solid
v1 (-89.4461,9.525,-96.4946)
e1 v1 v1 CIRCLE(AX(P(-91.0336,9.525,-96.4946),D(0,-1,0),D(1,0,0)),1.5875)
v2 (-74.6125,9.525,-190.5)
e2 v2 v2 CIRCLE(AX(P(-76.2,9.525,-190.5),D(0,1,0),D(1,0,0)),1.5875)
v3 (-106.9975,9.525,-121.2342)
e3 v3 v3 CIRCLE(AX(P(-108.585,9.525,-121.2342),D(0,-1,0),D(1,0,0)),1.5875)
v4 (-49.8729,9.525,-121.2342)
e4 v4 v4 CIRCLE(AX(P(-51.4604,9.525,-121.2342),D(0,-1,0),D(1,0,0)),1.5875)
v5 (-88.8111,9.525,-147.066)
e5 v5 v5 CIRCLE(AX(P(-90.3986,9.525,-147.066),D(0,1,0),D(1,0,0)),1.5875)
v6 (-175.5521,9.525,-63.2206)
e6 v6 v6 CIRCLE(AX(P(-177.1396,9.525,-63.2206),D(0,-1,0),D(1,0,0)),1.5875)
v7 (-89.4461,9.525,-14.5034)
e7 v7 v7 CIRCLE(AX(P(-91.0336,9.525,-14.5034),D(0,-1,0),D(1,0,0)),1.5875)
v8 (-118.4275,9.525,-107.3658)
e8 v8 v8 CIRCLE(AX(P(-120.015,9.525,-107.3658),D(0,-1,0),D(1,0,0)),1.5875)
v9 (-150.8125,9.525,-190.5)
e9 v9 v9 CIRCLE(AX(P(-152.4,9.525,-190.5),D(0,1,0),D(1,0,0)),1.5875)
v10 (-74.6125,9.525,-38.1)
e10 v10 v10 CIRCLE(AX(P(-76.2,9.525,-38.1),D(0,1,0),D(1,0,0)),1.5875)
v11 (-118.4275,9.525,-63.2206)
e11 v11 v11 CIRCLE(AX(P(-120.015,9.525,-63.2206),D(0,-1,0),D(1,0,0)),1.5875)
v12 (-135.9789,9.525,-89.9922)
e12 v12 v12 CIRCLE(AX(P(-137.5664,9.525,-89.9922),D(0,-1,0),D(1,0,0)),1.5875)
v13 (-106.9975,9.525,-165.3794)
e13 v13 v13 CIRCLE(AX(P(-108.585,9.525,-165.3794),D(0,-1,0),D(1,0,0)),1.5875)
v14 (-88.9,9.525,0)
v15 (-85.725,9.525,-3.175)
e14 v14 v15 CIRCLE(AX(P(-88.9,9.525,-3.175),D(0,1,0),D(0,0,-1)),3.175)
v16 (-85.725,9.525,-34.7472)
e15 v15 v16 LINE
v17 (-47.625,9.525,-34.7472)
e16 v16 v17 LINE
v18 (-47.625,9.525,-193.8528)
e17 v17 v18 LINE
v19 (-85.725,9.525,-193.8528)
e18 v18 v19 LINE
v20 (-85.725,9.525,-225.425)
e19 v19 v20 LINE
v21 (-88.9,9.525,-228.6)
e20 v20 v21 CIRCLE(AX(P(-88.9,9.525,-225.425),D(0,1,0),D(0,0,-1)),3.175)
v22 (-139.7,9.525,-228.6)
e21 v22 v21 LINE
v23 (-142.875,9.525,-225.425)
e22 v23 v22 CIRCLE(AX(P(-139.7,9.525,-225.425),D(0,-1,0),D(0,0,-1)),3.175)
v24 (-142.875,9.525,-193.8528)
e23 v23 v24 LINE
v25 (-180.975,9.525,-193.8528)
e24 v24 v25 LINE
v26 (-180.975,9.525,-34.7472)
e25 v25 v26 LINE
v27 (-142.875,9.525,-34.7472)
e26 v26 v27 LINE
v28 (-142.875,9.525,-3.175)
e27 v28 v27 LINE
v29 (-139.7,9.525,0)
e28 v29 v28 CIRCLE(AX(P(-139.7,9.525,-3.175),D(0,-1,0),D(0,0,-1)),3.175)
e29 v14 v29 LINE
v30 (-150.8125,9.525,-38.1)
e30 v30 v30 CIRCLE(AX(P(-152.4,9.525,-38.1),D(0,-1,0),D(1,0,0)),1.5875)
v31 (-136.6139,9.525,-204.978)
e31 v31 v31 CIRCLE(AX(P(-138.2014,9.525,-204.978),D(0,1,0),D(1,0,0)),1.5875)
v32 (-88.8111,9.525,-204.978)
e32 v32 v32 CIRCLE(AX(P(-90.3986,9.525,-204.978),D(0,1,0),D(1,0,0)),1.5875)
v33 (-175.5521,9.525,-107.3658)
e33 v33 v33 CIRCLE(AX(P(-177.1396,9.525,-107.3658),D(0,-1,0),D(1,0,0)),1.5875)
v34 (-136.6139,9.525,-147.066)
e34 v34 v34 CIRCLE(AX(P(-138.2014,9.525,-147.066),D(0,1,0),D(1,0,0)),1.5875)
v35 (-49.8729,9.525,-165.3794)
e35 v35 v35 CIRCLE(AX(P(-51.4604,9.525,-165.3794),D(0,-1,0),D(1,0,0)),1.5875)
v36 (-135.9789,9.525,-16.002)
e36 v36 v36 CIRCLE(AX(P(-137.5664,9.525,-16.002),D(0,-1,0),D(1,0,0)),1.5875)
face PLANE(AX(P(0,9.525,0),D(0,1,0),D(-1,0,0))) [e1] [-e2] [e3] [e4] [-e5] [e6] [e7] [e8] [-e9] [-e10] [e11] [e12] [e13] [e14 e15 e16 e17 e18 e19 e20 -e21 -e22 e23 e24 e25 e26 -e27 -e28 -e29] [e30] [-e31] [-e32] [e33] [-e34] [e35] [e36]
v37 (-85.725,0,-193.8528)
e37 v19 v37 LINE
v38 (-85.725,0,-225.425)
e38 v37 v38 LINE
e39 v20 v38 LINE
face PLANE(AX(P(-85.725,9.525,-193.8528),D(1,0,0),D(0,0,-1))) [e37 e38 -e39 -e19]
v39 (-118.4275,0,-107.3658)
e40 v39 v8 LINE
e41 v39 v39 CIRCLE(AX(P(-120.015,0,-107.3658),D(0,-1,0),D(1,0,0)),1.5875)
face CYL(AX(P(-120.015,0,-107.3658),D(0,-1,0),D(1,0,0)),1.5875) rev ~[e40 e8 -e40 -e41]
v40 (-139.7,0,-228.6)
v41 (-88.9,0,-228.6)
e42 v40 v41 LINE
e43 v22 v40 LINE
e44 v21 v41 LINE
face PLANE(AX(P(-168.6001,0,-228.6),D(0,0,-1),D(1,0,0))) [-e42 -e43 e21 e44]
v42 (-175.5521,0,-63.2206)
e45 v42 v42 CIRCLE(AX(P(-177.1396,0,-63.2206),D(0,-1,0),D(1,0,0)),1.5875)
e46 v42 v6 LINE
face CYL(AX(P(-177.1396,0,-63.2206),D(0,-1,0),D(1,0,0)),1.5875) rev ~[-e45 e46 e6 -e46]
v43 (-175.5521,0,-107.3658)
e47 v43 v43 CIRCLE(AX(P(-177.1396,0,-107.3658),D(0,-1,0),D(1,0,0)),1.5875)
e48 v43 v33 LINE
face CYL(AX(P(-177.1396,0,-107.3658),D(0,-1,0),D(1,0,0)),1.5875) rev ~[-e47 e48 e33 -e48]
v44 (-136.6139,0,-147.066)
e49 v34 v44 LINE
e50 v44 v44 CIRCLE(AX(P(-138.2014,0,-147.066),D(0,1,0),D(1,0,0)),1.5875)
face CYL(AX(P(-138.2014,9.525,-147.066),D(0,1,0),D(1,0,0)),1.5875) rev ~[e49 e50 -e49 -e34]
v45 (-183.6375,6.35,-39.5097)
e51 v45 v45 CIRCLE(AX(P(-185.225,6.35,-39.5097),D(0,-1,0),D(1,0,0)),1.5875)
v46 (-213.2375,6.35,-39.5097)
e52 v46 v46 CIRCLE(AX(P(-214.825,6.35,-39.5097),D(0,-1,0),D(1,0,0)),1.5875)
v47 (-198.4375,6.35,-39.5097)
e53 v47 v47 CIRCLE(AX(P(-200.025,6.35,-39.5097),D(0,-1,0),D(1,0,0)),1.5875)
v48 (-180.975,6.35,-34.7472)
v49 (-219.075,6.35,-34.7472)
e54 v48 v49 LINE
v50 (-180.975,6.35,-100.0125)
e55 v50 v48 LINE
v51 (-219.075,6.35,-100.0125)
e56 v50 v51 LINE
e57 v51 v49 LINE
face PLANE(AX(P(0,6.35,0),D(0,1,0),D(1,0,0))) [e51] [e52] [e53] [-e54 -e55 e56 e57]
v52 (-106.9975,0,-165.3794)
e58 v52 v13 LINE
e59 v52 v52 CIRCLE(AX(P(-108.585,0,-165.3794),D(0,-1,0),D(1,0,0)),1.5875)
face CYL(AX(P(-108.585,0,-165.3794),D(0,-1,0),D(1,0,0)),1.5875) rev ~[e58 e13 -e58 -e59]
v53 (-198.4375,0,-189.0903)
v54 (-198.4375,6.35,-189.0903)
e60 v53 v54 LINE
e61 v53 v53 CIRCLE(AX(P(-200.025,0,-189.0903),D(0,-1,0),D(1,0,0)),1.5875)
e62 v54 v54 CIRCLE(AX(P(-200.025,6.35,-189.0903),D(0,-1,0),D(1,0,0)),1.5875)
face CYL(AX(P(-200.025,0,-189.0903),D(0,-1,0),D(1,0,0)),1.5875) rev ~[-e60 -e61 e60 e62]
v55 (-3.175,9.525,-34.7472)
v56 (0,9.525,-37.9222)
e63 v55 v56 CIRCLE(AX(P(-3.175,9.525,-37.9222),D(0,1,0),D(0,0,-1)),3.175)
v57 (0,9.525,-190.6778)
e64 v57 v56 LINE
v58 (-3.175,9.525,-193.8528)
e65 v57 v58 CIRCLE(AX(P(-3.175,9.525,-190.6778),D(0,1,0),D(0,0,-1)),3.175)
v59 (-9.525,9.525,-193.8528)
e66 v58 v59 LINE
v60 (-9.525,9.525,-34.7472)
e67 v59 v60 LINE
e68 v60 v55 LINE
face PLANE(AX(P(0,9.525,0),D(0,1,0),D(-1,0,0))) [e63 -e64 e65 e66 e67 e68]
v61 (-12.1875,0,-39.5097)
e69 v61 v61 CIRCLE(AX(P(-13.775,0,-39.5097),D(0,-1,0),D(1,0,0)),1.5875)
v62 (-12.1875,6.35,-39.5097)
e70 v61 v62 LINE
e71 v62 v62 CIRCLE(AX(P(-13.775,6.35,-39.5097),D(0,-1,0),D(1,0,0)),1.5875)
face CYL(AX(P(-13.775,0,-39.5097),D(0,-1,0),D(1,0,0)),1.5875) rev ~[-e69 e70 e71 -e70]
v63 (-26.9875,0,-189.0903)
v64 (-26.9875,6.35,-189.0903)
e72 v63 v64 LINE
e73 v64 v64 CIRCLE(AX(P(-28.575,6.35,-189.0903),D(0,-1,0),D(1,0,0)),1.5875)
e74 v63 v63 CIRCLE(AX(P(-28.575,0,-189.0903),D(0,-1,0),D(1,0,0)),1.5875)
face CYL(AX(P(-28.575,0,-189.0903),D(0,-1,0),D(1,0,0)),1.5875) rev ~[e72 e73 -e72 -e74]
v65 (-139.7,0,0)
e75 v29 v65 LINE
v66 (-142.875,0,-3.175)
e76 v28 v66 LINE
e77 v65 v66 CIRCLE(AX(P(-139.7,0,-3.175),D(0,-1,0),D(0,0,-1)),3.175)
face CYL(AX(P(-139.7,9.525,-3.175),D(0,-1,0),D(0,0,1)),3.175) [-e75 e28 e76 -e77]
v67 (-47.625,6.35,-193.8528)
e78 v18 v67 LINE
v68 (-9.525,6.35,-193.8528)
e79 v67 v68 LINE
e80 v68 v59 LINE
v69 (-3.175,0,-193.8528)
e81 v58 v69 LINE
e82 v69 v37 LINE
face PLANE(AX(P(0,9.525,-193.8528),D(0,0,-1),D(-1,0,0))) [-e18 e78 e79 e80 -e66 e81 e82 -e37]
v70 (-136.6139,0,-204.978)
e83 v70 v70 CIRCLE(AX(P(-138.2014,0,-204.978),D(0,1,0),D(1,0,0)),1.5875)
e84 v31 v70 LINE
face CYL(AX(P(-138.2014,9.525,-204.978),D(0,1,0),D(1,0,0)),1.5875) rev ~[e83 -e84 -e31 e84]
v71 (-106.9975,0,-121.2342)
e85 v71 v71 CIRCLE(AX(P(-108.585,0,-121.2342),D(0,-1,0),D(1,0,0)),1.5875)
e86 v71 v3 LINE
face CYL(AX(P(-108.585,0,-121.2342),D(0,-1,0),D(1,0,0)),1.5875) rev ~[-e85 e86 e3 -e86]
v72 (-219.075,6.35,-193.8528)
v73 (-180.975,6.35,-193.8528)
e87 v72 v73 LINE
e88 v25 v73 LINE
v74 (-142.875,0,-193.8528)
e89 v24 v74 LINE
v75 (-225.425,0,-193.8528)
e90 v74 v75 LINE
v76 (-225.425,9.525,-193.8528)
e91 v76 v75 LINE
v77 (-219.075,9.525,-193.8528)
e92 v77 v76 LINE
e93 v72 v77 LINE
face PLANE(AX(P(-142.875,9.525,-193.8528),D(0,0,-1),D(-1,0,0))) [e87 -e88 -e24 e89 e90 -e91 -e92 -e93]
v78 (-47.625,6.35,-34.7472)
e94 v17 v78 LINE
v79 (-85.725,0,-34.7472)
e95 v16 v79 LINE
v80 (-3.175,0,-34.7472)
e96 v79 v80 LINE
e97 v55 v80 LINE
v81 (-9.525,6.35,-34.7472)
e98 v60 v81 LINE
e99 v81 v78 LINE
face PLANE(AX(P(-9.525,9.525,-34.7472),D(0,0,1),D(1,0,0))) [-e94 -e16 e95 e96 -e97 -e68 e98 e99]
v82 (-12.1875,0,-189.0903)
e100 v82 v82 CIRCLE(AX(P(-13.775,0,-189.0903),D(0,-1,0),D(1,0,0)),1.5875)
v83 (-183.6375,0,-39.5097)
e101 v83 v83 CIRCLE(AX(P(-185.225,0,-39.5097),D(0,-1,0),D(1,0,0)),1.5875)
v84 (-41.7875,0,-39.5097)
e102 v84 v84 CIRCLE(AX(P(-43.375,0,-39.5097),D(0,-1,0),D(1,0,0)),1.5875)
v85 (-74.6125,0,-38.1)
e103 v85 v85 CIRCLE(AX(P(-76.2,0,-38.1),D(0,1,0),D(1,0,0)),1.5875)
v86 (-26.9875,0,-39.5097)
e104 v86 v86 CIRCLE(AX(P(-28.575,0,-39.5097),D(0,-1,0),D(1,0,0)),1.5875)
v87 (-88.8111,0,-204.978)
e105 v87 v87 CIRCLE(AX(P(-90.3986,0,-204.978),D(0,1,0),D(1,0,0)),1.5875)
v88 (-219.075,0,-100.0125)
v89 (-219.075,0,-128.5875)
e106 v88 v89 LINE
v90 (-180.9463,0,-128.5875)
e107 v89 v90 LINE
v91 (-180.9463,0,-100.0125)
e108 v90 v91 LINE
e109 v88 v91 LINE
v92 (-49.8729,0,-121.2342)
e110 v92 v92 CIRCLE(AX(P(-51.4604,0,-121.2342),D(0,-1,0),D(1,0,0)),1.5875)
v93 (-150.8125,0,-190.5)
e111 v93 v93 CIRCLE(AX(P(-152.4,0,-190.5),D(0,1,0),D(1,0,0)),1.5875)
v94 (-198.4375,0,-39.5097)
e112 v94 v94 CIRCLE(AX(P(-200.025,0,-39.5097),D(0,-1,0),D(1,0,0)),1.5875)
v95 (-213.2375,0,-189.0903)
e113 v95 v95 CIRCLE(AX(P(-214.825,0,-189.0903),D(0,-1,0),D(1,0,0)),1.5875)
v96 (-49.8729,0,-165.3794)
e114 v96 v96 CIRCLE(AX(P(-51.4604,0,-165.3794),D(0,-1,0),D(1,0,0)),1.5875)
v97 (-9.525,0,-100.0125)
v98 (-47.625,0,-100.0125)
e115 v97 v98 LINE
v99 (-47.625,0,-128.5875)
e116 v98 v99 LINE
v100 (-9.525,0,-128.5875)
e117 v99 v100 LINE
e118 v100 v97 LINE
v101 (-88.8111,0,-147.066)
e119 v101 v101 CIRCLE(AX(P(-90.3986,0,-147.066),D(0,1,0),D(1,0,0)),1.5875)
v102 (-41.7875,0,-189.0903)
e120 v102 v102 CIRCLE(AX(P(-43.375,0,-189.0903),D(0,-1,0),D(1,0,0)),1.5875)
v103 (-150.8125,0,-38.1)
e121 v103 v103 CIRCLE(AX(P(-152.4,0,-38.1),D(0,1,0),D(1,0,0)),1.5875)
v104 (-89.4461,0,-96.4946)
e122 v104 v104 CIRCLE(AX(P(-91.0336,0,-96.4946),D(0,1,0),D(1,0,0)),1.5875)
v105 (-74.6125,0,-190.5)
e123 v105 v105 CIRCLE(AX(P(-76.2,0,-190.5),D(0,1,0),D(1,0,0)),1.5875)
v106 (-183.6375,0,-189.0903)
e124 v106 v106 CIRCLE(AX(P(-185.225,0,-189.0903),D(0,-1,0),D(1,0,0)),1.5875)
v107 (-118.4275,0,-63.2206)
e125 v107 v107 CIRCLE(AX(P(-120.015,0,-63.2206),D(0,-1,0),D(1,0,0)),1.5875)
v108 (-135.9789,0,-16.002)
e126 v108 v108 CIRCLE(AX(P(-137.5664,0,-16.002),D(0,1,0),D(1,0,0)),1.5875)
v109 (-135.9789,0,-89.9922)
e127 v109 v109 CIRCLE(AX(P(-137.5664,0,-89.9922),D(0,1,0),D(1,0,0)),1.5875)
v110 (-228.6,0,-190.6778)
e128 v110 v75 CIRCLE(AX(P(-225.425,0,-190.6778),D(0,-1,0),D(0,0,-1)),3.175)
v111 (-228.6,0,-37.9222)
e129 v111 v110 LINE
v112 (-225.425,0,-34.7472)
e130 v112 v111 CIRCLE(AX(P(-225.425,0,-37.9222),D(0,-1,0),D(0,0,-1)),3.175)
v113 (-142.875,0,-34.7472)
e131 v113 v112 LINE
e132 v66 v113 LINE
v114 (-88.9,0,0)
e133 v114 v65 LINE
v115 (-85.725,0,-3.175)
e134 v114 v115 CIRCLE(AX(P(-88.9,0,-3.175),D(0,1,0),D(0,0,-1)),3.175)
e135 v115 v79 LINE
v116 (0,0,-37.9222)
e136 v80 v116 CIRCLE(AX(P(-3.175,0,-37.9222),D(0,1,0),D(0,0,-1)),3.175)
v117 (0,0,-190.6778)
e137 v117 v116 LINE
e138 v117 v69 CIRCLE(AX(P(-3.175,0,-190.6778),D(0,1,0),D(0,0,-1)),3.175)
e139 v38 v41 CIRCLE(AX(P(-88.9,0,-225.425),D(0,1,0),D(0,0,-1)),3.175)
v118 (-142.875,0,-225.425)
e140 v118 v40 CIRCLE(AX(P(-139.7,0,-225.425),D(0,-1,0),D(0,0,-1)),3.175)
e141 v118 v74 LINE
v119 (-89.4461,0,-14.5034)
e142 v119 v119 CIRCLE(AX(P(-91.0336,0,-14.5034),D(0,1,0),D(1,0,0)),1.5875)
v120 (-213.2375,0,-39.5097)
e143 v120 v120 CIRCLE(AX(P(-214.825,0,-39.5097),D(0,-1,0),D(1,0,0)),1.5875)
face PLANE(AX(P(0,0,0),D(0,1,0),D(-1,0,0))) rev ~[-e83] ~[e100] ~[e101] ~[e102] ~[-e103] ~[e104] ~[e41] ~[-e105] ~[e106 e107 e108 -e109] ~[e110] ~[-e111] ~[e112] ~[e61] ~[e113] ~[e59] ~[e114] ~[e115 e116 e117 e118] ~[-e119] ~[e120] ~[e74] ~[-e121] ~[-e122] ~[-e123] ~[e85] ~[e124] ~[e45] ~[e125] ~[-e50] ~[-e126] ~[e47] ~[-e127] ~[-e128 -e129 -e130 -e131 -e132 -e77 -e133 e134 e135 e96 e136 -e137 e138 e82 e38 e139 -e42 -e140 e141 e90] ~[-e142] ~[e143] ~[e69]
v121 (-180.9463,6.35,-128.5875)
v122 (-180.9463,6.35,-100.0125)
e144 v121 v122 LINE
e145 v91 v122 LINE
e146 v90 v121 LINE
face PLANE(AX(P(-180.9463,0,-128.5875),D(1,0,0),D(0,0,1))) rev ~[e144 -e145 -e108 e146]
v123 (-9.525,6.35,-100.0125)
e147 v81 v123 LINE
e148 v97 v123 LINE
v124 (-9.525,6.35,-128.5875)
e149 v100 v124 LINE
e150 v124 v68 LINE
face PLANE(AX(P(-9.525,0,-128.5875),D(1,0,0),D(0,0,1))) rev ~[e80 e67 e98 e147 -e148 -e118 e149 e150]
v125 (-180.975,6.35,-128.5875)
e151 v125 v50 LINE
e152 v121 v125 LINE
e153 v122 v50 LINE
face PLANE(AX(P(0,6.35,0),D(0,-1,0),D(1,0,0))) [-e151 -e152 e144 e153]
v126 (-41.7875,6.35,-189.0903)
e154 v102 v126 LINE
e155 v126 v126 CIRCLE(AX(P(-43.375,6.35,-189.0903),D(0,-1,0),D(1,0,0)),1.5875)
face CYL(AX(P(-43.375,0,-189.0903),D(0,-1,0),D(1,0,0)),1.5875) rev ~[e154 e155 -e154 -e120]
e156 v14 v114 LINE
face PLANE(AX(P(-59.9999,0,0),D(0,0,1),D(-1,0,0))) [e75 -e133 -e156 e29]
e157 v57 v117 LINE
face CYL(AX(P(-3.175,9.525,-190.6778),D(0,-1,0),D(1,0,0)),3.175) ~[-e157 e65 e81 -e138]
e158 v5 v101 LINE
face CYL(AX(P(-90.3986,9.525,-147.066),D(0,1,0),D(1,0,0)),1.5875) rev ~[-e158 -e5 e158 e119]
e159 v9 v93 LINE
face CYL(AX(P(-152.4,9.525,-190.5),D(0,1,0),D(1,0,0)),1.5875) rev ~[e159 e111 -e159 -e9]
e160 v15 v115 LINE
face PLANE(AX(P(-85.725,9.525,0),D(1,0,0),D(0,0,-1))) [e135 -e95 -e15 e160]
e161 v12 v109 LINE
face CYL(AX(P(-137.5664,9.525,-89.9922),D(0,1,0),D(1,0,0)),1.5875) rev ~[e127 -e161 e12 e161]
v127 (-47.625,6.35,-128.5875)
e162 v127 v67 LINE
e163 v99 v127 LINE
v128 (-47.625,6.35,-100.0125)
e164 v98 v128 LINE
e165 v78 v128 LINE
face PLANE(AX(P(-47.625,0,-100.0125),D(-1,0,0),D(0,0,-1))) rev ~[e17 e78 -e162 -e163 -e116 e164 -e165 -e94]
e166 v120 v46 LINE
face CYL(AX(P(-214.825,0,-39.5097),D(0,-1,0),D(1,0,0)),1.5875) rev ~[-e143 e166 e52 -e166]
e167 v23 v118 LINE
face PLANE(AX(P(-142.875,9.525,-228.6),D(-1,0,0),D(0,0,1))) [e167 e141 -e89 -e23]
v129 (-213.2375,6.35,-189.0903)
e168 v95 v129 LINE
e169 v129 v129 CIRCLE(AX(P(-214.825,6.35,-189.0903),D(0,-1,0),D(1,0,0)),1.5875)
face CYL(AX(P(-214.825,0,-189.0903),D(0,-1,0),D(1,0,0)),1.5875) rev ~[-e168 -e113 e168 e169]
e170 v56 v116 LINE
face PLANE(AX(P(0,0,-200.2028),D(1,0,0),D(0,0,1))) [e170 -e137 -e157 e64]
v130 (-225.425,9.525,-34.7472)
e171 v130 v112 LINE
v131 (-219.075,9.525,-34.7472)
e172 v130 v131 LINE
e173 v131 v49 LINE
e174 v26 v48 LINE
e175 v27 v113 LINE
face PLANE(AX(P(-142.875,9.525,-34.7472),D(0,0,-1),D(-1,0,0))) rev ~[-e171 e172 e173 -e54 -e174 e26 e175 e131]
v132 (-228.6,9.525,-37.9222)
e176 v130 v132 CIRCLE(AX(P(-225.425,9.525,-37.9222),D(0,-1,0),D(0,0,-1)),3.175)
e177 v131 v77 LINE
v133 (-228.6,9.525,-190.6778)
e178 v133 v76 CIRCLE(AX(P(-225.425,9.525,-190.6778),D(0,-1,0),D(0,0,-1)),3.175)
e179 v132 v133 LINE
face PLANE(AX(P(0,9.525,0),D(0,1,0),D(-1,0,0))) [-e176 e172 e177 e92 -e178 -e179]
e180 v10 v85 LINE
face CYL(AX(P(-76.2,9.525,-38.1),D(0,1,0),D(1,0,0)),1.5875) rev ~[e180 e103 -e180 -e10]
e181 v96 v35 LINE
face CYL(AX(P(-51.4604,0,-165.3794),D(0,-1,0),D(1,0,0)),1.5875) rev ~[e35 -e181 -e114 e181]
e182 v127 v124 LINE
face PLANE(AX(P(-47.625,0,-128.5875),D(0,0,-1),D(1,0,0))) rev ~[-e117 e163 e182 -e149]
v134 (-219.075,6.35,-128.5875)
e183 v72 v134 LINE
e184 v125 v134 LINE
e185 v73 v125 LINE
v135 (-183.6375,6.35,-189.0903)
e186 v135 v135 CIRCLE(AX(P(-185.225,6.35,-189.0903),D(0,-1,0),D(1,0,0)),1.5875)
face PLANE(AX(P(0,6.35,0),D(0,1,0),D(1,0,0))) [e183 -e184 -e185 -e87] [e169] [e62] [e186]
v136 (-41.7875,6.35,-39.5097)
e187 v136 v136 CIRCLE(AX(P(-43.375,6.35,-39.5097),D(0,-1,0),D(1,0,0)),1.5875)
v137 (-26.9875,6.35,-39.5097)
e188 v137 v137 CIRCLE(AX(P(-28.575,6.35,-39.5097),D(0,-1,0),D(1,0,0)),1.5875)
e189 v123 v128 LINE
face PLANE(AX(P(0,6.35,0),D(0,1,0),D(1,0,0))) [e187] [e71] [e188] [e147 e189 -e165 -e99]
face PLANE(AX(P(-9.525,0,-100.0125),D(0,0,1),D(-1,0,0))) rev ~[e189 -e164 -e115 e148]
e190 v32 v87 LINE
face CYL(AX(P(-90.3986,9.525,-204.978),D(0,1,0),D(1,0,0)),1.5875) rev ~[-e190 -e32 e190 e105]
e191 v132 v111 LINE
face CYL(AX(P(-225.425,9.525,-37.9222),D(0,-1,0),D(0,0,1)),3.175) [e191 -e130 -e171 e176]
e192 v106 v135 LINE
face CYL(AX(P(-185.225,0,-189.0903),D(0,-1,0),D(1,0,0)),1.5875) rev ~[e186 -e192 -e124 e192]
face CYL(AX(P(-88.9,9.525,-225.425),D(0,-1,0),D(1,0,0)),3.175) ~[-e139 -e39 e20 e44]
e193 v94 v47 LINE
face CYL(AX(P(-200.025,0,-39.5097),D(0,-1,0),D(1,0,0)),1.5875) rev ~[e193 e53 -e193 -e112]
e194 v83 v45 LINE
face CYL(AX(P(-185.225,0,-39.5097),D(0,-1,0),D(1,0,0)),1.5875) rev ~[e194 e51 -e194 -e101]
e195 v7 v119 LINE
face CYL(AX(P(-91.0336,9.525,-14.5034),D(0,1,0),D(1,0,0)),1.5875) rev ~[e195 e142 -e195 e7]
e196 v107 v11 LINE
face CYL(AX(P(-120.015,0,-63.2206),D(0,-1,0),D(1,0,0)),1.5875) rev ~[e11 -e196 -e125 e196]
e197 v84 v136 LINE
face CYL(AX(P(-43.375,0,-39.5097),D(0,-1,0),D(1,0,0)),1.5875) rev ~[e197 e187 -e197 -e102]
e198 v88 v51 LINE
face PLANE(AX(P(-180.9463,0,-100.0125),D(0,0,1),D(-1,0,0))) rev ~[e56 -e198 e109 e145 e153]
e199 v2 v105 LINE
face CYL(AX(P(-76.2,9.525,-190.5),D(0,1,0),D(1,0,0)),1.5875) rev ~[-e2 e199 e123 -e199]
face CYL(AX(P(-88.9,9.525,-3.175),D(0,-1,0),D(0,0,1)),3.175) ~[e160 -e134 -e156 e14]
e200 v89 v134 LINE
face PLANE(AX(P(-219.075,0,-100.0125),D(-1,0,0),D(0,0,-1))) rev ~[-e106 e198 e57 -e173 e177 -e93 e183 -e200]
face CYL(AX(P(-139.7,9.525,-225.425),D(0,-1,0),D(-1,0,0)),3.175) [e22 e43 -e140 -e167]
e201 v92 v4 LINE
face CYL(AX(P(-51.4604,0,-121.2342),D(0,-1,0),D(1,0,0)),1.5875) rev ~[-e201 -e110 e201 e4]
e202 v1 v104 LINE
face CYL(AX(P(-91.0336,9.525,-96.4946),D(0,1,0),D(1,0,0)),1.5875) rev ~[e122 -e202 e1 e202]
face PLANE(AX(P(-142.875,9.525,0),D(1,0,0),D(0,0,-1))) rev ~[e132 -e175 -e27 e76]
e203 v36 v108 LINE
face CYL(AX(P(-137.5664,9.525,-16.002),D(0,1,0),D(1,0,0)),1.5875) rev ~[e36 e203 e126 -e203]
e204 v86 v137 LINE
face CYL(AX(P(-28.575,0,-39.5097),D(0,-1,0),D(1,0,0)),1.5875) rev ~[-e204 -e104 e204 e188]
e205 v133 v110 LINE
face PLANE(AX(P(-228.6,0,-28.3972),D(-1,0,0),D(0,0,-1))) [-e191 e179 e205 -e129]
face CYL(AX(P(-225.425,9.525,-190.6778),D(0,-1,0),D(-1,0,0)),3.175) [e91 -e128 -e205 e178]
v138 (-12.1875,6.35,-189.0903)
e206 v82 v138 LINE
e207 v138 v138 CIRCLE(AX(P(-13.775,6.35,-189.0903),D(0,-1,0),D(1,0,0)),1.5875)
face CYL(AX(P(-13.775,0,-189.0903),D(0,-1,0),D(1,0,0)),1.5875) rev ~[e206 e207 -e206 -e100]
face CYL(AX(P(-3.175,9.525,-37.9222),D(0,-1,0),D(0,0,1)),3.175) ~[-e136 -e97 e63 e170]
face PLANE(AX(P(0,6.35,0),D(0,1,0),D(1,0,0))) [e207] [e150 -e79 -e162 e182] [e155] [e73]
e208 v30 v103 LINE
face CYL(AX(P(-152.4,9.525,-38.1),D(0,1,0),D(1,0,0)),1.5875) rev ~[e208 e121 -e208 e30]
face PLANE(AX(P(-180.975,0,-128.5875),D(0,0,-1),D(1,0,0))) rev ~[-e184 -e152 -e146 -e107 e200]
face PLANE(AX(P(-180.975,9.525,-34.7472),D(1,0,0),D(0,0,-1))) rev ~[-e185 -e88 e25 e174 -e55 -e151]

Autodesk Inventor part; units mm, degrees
ref_plane "YZ Plane" through (0, 0, 0) normal (1, 0, 0) x (0, 1, 0)
ref_plane "XZ Plane" through (0, 0, 0) normal (0, 1, 0) x (-1, 0, 0)
ref_plane "XY Plane" through (0, 0, 0) normal (0, 0, 1) x (1, 0, 0)
sketch "Sketch1" plane through (0, 0, 0) normal (0, 1, 0) x (-1, 0, 0)
  line L0 (0, 0) -> (228.6, 0)
  line L1 (228.6, 0) -> (228.6, -228.6)
  line L2 (228.6, -228.6) -> (0, -228.6)
  line L3 (0, -228.6) -> (0, 0)
  line L4 (0, 0) -> (59.9999, 0)
  line L5 (59.9999, 0) -> (59.9999, -28.3972)
  line L6 (59.9999, -28.3972) -> (0, -28.3972)
  line L7 (0, -28.3972) -> (0, 0)
  line L8 (114.3, 0) -> (114.3, -114.3) construction
  line L9 (114.3, -114.3) -> (0, -114.3) construction
  line L10 (228.6, 0) -> (0, 0)
  line L11 (228.6, -228.6) -> (228.6, 0)
  line L12 (228.6, 0) -> (168.6001, 0)
  line L13 (168.6001, 0) -> (168.6001, -28.3972)
  line L14 (168.6001, -28.3972) -> (228.6, -28.3972)
  line L15 (228.6, -28.3972) -> (228.6, 0)
  line L16 (228.6, -228.6) -> (228.6, 0)
  line L17 (0, 0) -> (0, -228.6)
  line L18 (0, -228.6) -> (59.9999, -228.6)
  line L19 (59.9999, -228.6) -> (59.9999, -200.2028)
  line L20 (59.9999, -200.2028) -> (0, -200.2028)
  line L21 (0, -200.2028) -> (0, -228.6)
  line L22 (228.6, 0) -> (228.6, -228.6)
  line L23 (228.6, -228.6) -> (168.6001, -228.6)
  line L24 (168.6001, -228.6) -> (168.6001, -200.2028)
  line L25 (168.6001, -200.2028) -> (228.6, -200.2028)
  line L26 (228.6, -200.2028) -> (228.6, -228.6)
  dimension "d0" = 228.6
  dimension "d1" = 228.6
  dimension "d2" = 59.9999
  dimension "d3" = 28.3972
extrude "Extrusion1" add sketch "Sketch1" along normal blind 9.525 contours L0 L13 L14 L1 L25 L24 L2 L19 L20 L3 L6 L5
sketch "Sketch2" plane through (0, 9.525, 0) normal (0, 1, 0) x (1, 0, 0)
  line L0 (-59.9999, 200.2028) -> (-59.9999, 228.6) projected
  line L1 (-59.9999, 228.6) -> (-168.6001, 228.6) projected
  line L2 (-168.6001, 228.6) -> (-168.6001, 200.2028) projected
  line L3 (-168.6001, 200.2028) -> (-228.6, 200.2028) projected
  line L4 (-228.6, 200.2028) -> (-228.6, 28.3972) projected
  line L5 (-228.6, 28.3972) -> (-168.6001, 28.3972) projected
  line L6 (-168.6001, 28.3972) -> (-168.6001, 0) projected
  line L7 (-168.6001, 0) -> (-59.9999, 0) projected
  line L8 (-59.9999, 0) -> (-59.9999, 28.3972) projected
  line L9 (-59.9999, 28.3972) -> (0, 28.3972) projected
  line L10 (0, 28.3972) -> (0, 200.2028) projected
  line L11 (0, 200.2028) -> (-59.9999, 200.2028) projected
  line L12 (-228.6, 28.3972) -> (-168.6001, 28.3972) projected
  line L13 (-198.6001, 28.3972) -> (-198.6001, 34.7472) construction
  line L14 (-228.6, 200.2028) -> (-228.6, 28.3972) projected
  line L15 (-228.6, 34.7472) -> (-219.075, 34.7472) construction
  line L16 (-228.6, 34.7472) -> (-219.075, 34.7472) construction
  line L17 (-219.075, 34.7472) -> (-180.975, 34.7472)
  line L18 (-180.975, 34.7472) -> (-180.975, 44.2722)
  line L19 (-180.975, 44.2722) -> (-219.075, 44.2722)
  line L20 (-219.075, 44.2722) -> (-219.075, 34.7472)
  line L21 (-200.025, 44.2722) -> (-200.025, 39.5097) construction
  line L22 (-200.025, 39.5097) -> (-219.075, 39.5097) construction
  circle A0 centre (-200.025, 39.5097) radius 1.5875
  line L23 (-200.025, 39.5097) -> (-214.825, 39.5097)
  circle A1 centre (-214.825, 39.5097) radius 1.5875
  circle A2 centre (-185.225, 39.5097) radius 1.5875
  line L24 (-228.6, 200.2028) -> (-228.6, 28.3972) projected
  line L25 (-228.6, 114.3) -> (-114.3, 114.3) construction
  line L26 (-114.3, 114.3) -> (-114.3, 0) construction
  line L27 (-29.9999, 28.3972) -> (-29.9999, 34.7472) construction
  line L28 (0, 34.7472) -> (-9.525, 34.7472) construction
  line L29 (0, 34.7472) -> (-9.525, 34.7472) construction
  line L30 (-9.525, 34.7472) -> (-47.625, 34.7472)
  line L31 (-47.625, 34.7472) -> (-47.625, 44.2722)
  line L32 (-47.625, 44.2722) -> (-9.525, 44.2722)
  line L33 (-9.525, 44.2722) -> (-9.525, 34.7472)
  line L34 (-28.575, 44.2722) -> (-28.575, 39.5097) construction
  line L35 (-28.575, 39.5097) -> (-9.525, 39.5097) construction
  circle A3 centre (-28.575, 39.5097) radius 1.5875
  line L36 (-28.575, 39.5097) -> (-13.775, 39.5097)
  circle A4 centre (-13.775, 39.5097) radius 1.5875
  circle A5 centre (-43.375, 39.5097) radius 1.5875
  line L37 (-198.6001, 200.2028) -> (-198.6001, 193.8528) construction
  line L38 (-228.6, 193.8528) -> (-219.075, 193.8528) construction
  line L39 (-228.6, 193.8528) -> (-219.075, 193.8528) construction
  line L40 (-219.075, 193.8528) -> (-180.975, 193.8528)
  line L41 (-180.975, 193.8528) -> (-180.975, 184.3278)
  line L42 (-180.975, 184.3278) -> (-219.075, 184.3278)
  line L43 (-219.075, 184.3278) -> (-219.075, 193.8528)
  line L44 (-200.025, 184.3278) -> (-200.025, 189.0903) construction
  line L45 (-200.025, 189.0903) -> (-219.075, 189.0903) construction
  circle A6 centre (-200.025, 189.0903) radius 1.5875
  line L46 (-200.025, 189.0903) -> (-214.825, 189.0903)
  circle A7 centre (-214.825, 189.0903) radius 1.5875
  circle A8 centre (-185.225, 189.0903) radius 1.5875
  line L47 (-114.3, 114.3) -> (-114.3, 228.6) construction
  line L48 (-47.625, 193.8528) -> (-47.625, 184.3278)
  circle A9 centre (-43.375, 189.0903) radius 1.5875
  circle A10 centre (-28.575, 189.0903) radius 1.5875
  line L49 (-29.9999, 200.2028) -> (-29.9999, 193.8528) construction
  line L50 (-47.625, 184.3278) -> (-9.525, 184.3278)
  line L51 (-9.525, 184.3278) -> (-9.525, 193.8528)
  line L52 (0, 193.8528) -> (-9.525, 193.8528) construction
  line L53 (0, 193.8528) -> (-9.525, 193.8528) construction
  line L54 (-9.525, 193.8528) -> (-47.625, 193.8528)
  line L55 (-28.575, 189.0903) -> (-13.775, 189.0903)
  line L56 (-28.575, 189.0903) -> (-9.525, 189.0903) construction
  circle A11 centre (-13.775, 189.0903) radius 1.5875
  line L57 (-28.575, 184.3278) -> (-28.575, 189.0903) construction
  point P0 (0, 0)
  dimension "d6" = 6.35
  dimension "d7" = 9.525
  dimension "d8" = 0
  dimension "d9" = 38.1
  dimension "d10" = 9.525
  dimension "d11" = 3.175
  dimension "d12" = 14.8
  dimension "d13" = 3.175
extrude "Extrusion2" cut sketch "Sketch2" against normal blind 0.7937 contours L20 L19 L18 L17 | L30 L31 L32 L33 | L40 L41 L42 L43 | L54 L51 L50 L48
sketch "Sketch3" plane through (0, 0, 0) normal (0, -1, 0) x (1, 0, 0)
  circle A0 centre (-13.775, -39.5097) radius 1.5875 projected
  circle A1 centre (-28.575, -39.5097) radius 1.5875 projected
  circle A2 centre (-43.375, -39.5097) radius 1.5875 projected
  circle A3 centre (-13.775, -189.0903) radius 1.5875 projected
  circle A4 centre (-28.575, -189.0903) radius 1.5875 projected
  circle A5 centre (-43.375, -189.0903) radius 1.5875 projected
  circle A6 centre (-185.225, -189.0903) radius 1.5875 projected
  circle A7 centre (-200.025, -189.0903) radius 1.5875 projected
  circle A8 centre (-214.825, -189.0903) radius 1.5875 projected
  circle A9 centre (-214.825, -39.5097) radius 1.5875 projected
  circle A10 centre (-200.025, -39.5097) radius 1.5875 projected
  circle A11 centre (-185.225, -39.5097) radius 1.5875 projected
  point P0 (0, 0)
extrude "Extrusion3" cut sketch "Sketch3" against normal up to surface (9.525 mm away)
sketch "Sketch4" plane through (0, 9.525, 0) normal (0, 1, 0) x (1, 0, 0)
  line L0 (-219.075, 184.3278) -> (-219.075, 193.8528) projected
  line L1 (-219.075, 193.8528) -> (-180.975, 193.8528)
  line L2 (-180.975, 193.8528) -> (-180.975, 34.7472)
  line L3 (-180.975, 34.7472) -> (-219.075, 34.7472)
  line L4 (-219.075, 34.7472) -> (-219.075, 193.8528)
  line L5 (-47.625, 193.8528) -> (-9.525, 193.8528) projected
  line L6 (-9.525, 44.2722) -> (-9.525, 34.7472) projected
  line L7 (-47.625, 193.8528) -> (-9.525, 193.8528)
  line L8 (-9.525, 193.8528) -> (-9.525, 34.7472)
  line L9 (-9.525, 34.7472) -> (-47.625, 34.7472)
  line L10 (-47.625, 34.7472) -> (-47.625, 193.8528)
  point P0 (0, 0)
extrude "Extrusion4" cut sketch "Sketch4" against normal blind 3.175
sketch "Sketch5" plane through (0, 9.525, 0) normal (0, 1, 0) x (1, 0, 0)
  line L0 (-168.6001, 0) -> (-59.9999, 0) projected
  line L1 (-114.3, 0) -> (-114.3, 38.1)
  line L2 (-228.6, 200.2028) -> (-228.6, 28.3972) projected
  line L3 (-228.6, 38.1) -> (-152.4, 38.1)
  circle A0 centre (-152.4, 38.1) radius 1.5875
  line L4 (-228.6, 114.3) -> (-127.0378, 114.3)
  circle A1 centre (-76.2, 38.1) radius 1.5875
  circle A2 centre (-152.4, 190.5) radius 1.5875
  circle A3 centre (-76.2, 190.5) radius 1.5875
  point P0 (0, 0)
  dimension "d20" = 38.1
  dimension "d21" = 76.2
  dimension "d22" = 3.175
extrude "Extrusion5" cut sketch "Sketch5" against normal up to surface (9.525 mm away)
sketch "Sketch7" plane through (0, 9.525, 0) normal (0, 1, 0) x (1, 0, 0)
  circle A0 centre (-152.4, 190.5) radius 1.5875 projected
  circle A1 centre (-76.2, 190.5) radius 1.5875 projected
  circle A2 centre (-76.2, 38.1) radius 1.5875 projected
  circle A3 centre (-152.4, 38.1) radius 1.5875 projected
  line L0 (-59.9999, 200.2028) -> (-59.9999, 228.6) projected
  line L1 (-59.9999, 228.6) -> (-168.6001, 228.6) projected
  line L2 (-168.6001, 228.6) -> (-168.6001, 200.2028) projected
  line L3 (-168.6001, 200.2028) -> (-228.6, 200.2028) projected
  line L4 (-228.6, 200.2028) -> (-228.6, 28.3972) projected
  line L5 (-228.6, 28.3972) -> (-168.6001, 28.3972) projected
  line L6 (-168.6001, 28.3972) -> (-168.6001, 0) projected
  line L7 (-168.6001, 0) -> (-59.9999, 0) projected
  line L8 (-59.9999, 0) -> (-59.9999, 28.3972) projected
  line L9 (-59.9999, 28.3972) -> (0, 28.3972) projected
  line L10 (0, 28.3972) -> (0, 200.2028) projected
  line L11 (0, 200.2028) -> (-59.9999, 200.2028) projected
  line L12 (-47.625, 34.7472) -> (-47.625, 193.8528) projected
  line L13 (-47.625, 193.8528) -> (-9.525, 193.8528) projected
  line L14 (-9.525, 193.8528) -> (-9.525, 34.7472) projected
  line L15 (-9.525, 34.7472) -> (-47.625, 34.7472) projected
  line L16 (-219.075, 34.7472) -> (-219.075, 193.8528) projected
  line L17 (-219.075, 193.8528) -> (-180.975, 193.8528) projected
  line L18 (-180.975, 193.8528) -> (-180.975, 34.7472) projected
  line L19 (-180.975, 34.7472) -> (-219.075, 34.7472) projected
  line L20 (-228.6, 228.6) -> (-142.875, 228.6)
  line L21 (-228.6, 200.2028) -> (-228.6, 228.6)
  line L22 (0, 228.6) -> (-85.725, 228.6)
  line L23 (0, 200.2028) -> (0, 228.6)
  line L24 (0, 0) -> (-85.725, 0)
  line L25 (-85.725, 0) -> (-85.725, 34.7472)
  line L26 (-85.725, 34.7472) -> (0, 34.7472)
  line L27 (0, 34.7472) -> (0, 0)
  line L28 (-228.6, 0) -> (-142.875, 0)
  line L29 (-142.875, 0) -> (-142.875, 34.7472)
  line L30 (-142.875, 34.7472) -> (-228.6, 34.7472)
  line L31 (-228.6, 34.7472) -> (-228.6, 0)
  line L32 (-228.6, 228.6) -> (-142.875, 228.6)
  line L33 (-142.875, 228.6) -> (-142.875, 193.8528)
  line L34 (-142.875, 193.8528) -> (-228.6, 193.8528)
  line L35 (-228.6, 193.8528) -> (-228.6, 228.6)
  line L36 (0, 28.3972) -> (0, 200.2028) projected
  line L37 (0, 193.8528) -> (-85.725, 193.8528)
  line L38 (-85.725, 193.8528) -> (-85.725, 228.6)
  line L39 (-85.725, 228.6) -> (0, 228.6)
  line L40 (0, 228.6) -> (0, 193.8528)
  dimension "d30" = 34.7472
extrude "Extrusion7" cut sketch "Sketch7" against normal blind 25.4 contours L11 L10 L37 L13 L38 L1 L0 | L0 L22 L23 L11 | L33 L34 L17 L4 L3 L2 L1 | L10 L9 L8 L7 L25 L26 L15 | L2 L3 L21 L20 | L27 L24 L8 L9 | L30 L29 L7 L6 L5 L4 L19 | L5 L6 L28 L31
sketch "Sketch8" plane through (0, 9.525, 0) normal (0, 1, 0) x (1, 0, 0)
  circle A0 centre (-214.825, 189.0903) radius 1.5875 projected
  circle A1 centre (-185.225, 189.0903) radius 1.5875 projected
  circle A2 centre (-28.575, 189.0903) radius 1.5875 projected
  circle A3 centre (-43.375, 39.5097) radius 1.5875 projected
  circle A4 centre (-13.775, 39.5097) radius 1.5875 projected
  circle A5 centre (-28.575, 39.5097) radius 1.5875 projected
  circle A6 centre (-13.775, 189.0903) radius 1.5875 projected
  circle A7 centre (-43.375, 189.0903) radius 1.5875 projected
  circle A8 centre (-200.025, 189.0903) radius 1.5875 projected
  circle A9 centre (-214.825, 39.5097) radius 1.5875 projected
  circle A10 centre (-185.225, 39.5097) radius 1.5875 projected
  circle A11 centre (-200.025, 39.5097) radius 1.5875 projected
  circle A12 centre (-152.4, 38.1) radius 1.5875 projected
  circle A13 centre (-76.2, 38.1) radius 1.5875 projected
  circle A14 centre (-76.2, 190.5) radius 1.5875 projected
  circle A15 centre (-152.4, 190.5) radius 1.5875 projected
  line L0 (-142.875, 0) -> (-142.875, 34.7472) projected
  line L1 (-142.875, 34.7472) -> (-228.6, 34.7472) projected
  line L2 (-228.6, 193.8528) -> (-228.6, 34.7472) projected
  line L3 (-228.6, 193.8528) -> (-142.875, 193.8528) projected
  line L4 (-142.875, 193.8528) -> (-142.875, 228.6) projected
  line L5 (-85.725, 228.6) -> (-142.875, 228.6) projected
  line L6 (-85.725, 228.6) -> (-85.725, 193.8528) projected
  line L7 (-85.725, 193.8528) -> (0, 193.8528) projected
  line L8 (0, 34.7472) -> (0, 193.8528) projected
  line L9 (0, 34.7472) -> (-85.725, 34.7472) projected
  line L10 (-85.725, 34.7472) -> (-85.725, 0) projected
  line L11 (-142.875, 0) -> (-85.725, 0) projected
  line L12 (-142.875, 0) -> (-85.725, 0) projected
  line L13 (-142.875, 0) -> (-137.5664, 0)
  line L14 (-137.5664, 0) -> (-137.5664, 89.9922)
  line L15 (-137.5664, 89.9922) -> (-142.875, 89.9922)
  line L16 (-142.875, 89.9922) -> (-142.875, 0)
  line L17 (-142.875, 0) -> (-142.875, 34.7472) projected
  line L18 (-137.5664, 0) -> (-142.875, 0)
  line L19 (-142.875, 0) -> (-142.875, 16.002)
  line L20 (-142.875, 16.002) -> (-137.5664, 16.002)
  line L21 (-137.5664, 16.002) -> (-137.5664, 0)
  line L22 (-85.725, 0) -> (-91.0336, 0)
  line L23 (-91.0336, 0) -> (-91.0336, 14.5034)
  line L24 (-91.0336, 14.5034) -> (-85.725, 14.5034)
  line L25 (-85.725, 14.5034) -> (-85.725, 0)
  line L26 (-85.725, 0) -> (-91.0336, 0)
  line L27 (-91.0336, 0) -> (-91.0336, 96.4946)
  line L28 (-91.0336, 96.4946) -> (-85.725, 96.4946)
  line L29 (-85.725, 96.4946) -> (-85.725, 0)
  circle A16 centre (-137.5664, 89.9922) radius 1.5875
  circle A17 centre (-91.0336, 96.4946) radius 1.5875
  circle A18 centre (-91.0336, 14.5034) radius 1.5875
  circle A19 centre (-137.5664, 16.002) radius 1.5875
  point P0 (0, 0)
  dimension "d33" = 5.3086
  dimension "d34" = 89.9922
  dimension "d35" = 16.002
  dimension "d36" = 5.3086
  dimension "d37" = 14.5034
  dimension "d38" = 96.4946
  dimension "d39" = 3.175
  dimension "d40" = 3.175
  dimension "d41" = 3.175
  dimension "d42" = 3.175
extrude "ardMount" cut sketch "Sketch8" against normal up to surface (9.525 mm away) contours A19 L14 L20 | L20 L14 A19 | L14 A19 | A18 L27 L23 | L23 L24 A18 | A16 L14 L15 | L15 L14 A16 | L27 A18 L24 | A17 L28 L27 | L27 L28 A17
sketch "Sketch9" plane through (0, 9.525, 0) normal (0, 1, 0) x (1, 0, 0)
  circle A0 centre (-137.5664, 16.002) radius 1.5875 projected
  circle A1 centre (-91.0336, 14.5034) radius 1.5875 projected
  circle A2 centre (-137.5664, 89.9922) radius 1.5875 projected
  circle A3 centre (-91.0336, 96.4946) radius 1.5875 projected
  line L0 (-142.875, 34.7472) -> (-142.875, 0) projected
  line L1 (-142.875, 0) -> (-85.725, 0) projected
  line L2 (-85.725, 0) -> (-85.725, 34.7472) projected
  line L3 (-85.725, 34.7472) -> (-47.625, 34.7472) projected
  line L4 (-47.625, 34.7472) -> (-47.625, 193.8528) projected
  line L5 (-47.625, 193.8528) -> (-85.725, 193.8528) projected
  line L6 (-85.725, 193.8528) -> (-85.725, 228.6) projected
  line L7 (-85.725, 228.6) -> (-142.875, 228.6) projected
  line L8 (-142.875, 228.6) -> (-142.875, 193.8528) projected
  line L9 (-142.875, 193.8528) -> (-180.975, 193.8528) projected
  line L10 (-180.975, 193.8528) -> (-180.975, 34.7472) projected
  line L11 (-180.975, 34.7472) -> (-142.875, 34.7472) projected
  circle A4 centre (-152.4, 190.5) radius 1.5875 projected
  circle A5 centre (-76.2, 190.5) radius 1.5875 projected
  circle A6 centre (-76.2, 38.1) radius 1.5875 projected
  circle A7 centre (-152.4, 38.1) radius 1.5875 projected
  line L12 (-85.725, 228.6) -> (-142.875, 228.6) projected
  line L13 (-114.3, 228.6) -> (-114.3, 148.6607) construction
  line L14 (-142.875, 228.6) -> (-138.2014, 228.6) construction
  line L15 (-138.2014, 228.6) -> (-138.2014, 204.978) construction
  line L16 (-138.2014, 204.978) -> (-142.875, 204.978) construction
  line L17 (-142.875, 204.978) -> (-142.875, 228.6) construction
  line L18 (-142.875, 228.6) -> (-142.875, 193.8528) construction
  line L19 (-142.875, 228.6) -> (-138.2014, 228.6) construction
  line L20 (-138.2014, 228.6) -> (-138.2014, 147.066) construction
  line L21 (-138.2014, 147.066) -> (-142.875, 147.066) construction
  line L22 (-142.875, 147.066) -> (-142.875, 228.6) construction
  circle A8 centre (-138.2014, 204.978) radius 1.5875
  circle A9 centre (-138.2014, 147.066) radius 1.5875
  circle A10 centre (-90.3986, 204.978) radius 1.5875
  circle A11 centre (-90.3986, 147.066) radius 1.5875
  point P0 (0, 0)
  dimension "d45" = 4.6736
  dimension "d46" = 23.622
  dimension "d47" = 81.534
  dimension "d48" = 3.175
  dimension "d49" = 3.175
extrude "piMount" cut sketch "Sketch9" against normal up to surface (9.525 mm away) contours A8 | A9 | A10 | A11
sketch "Sketch10" plane through (0, 0, 0) normal (0, -1, 0) x (1, 0, 0)
  circle A0 centre (-90.3986, -204.978) radius 1.5875 projected
  circle A1 centre (-90.3986, -147.066) radius 1.5875 projected
  circle A2 centre (-138.2014, -147.066) radius 1.5875 projected
  circle A3 centre (-138.2014, -204.978) radius 1.5875 projected
  circle A4 centre (-137.5664, -16.002) radius 1.5875 projected
  circle A5 centre (-91.0336, -14.5034) radius 1.5875 projected
  circle A6 centre (-137.5664, -89.9922) radius 1.5875 projected
  circle A7 centre (-91.0336, -96.4946) radius 1.5875 projected
  circle A8 centre (-214.825, -189.0903) radius 1.5875 projected
  circle A9 centre (-185.225, -189.0903) radius 1.5875 projected
  circle A10 centre (-28.575, -189.0903) radius 1.5875 projected
  circle A11 centre (-43.375, -39.5097) radius 1.5875 projected
  circle A12 centre (-13.775, -39.5097) radius 1.5875 projected
  circle A13 centre (-28.575, -39.5097) radius 1.5875 projected
  circle A14 centre (-13.775, -189.0903) radius 1.5875 projected
  circle A15 centre (-43.375, -189.0903) radius 1.5875 projected
  circle A16 centre (-200.025, -189.0903) radius 1.5875 projected
  circle A17 centre (-214.825, -39.5097) radius 1.5875 projected
  circle A18 centre (-185.225, -39.5097) radius 1.5875 projected
  circle A19 centre (-200.025, -39.5097) radius 1.5875 projected
  circle A20 centre (-152.4, -38.1) radius 1.5875 projected
  circle A21 centre (-76.2, -38.1) radius 1.5875 projected
  circle A22 centre (-76.2, -190.5) radius 1.5875 projected
  circle A23 centre (-152.4, -190.5) radius 1.5875 projected
  line L0 (-142.875, 0) -> (-142.875, -34.7472) projected
  line L1 (-142.875, -34.7472) -> (-228.6, -34.7472) projected
  line L2 (-228.6, -193.8528) -> (-228.6, -34.7472) projected
  line L3 (-228.6, -193.8528) -> (-142.875, -193.8528) projected
  line L4 (-142.875, -193.8528) -> (-142.875, -228.6) projected
  line L5 (-85.725, -228.6) -> (-142.875, -228.6) projected
  line L6 (-85.725, -228.6) -> (-85.725, -193.8528) projected
  line L7 (-85.725, -193.8528) -> (0, -193.8528) projected
  line L8 (0, -34.7472) -> (0, -193.8528) projected
  line L9 (0, -34.7472) -> (-85.725, -34.7472) projected
  line L10 (-85.725, -34.7472) -> (-85.725, 0) projected
  line L11 (-142.875, 0) -> (-85.725, 0) projected
  line L12 (-142.875, -34.7472) -> (-228.6, -34.7472) construction
  line L13 (-228.6, -34.7472) -> (-177.1396, -34.7472) construction
  line L14 (-177.1396, -34.7472) -> (-177.1396, -107.3658) construction
  line L15 (-177.1396, -107.3658) -> (-228.6, -107.3658) construction
  line L16 (-228.6, -107.3658) -> (-228.6, -34.7472) construction
  line L17 (-228.6, -34.7472) -> (-177.1396, -34.7472) construction
  line L18 (-177.1396, -34.7472) -> (-177.1396, -63.2206) construction
  line L19 (-177.1396, -63.2206) -> (-228.6, -63.2206) construction
  line L20 (-228.6, -63.2206) -> (-228.6, -34.7472) construction
  line L21 (-228.6, -34.7472) -> (-120.015, -34.7472) construction
  line L22 (-120.015, -34.7472) -> (-120.015, -107.3658) construction
  line L23 (-120.015, -107.3658) -> (-228.6, -107.3658) construction
  line L24 (-228.6, -107.3658) -> (-228.6, -34.7472) construction
  line L25 (-228.6, -34.7472) -> (-120.015, -34.7472) construction
  line L26 (-120.015, -34.7472) -> (-120.015, -63.2206) construction
  line L27 (-120.015, -63.2206) -> (-228.6, -63.2206) construction
  line L28 (-228.6, -63.2206) -> (-228.6, -34.7472) construction
  line L29 (-85.725, -193.8528) -> (0, -193.8528) construction
  line L30 (0, -193.8528) -> (-51.4604, -193.8528) construction
  line L31 (-51.4604, -193.8528) -> (-51.4604, -121.2342) construction
  line L32 (-51.4604, -121.2342) -> (0, -121.2342) construction
  line L33 (0, -121.2342) -> (0, -193.8528) construction
  line L34 (0, -34.7472) -> (0, -193.8528) construction
  line L35 (0, -193.8528) -> (-51.4604, -193.8528) construction
  line L36 (-51.4604, -193.8528) -> (-51.4604, -165.3794) construction
  line L37 (-51.4604, -165.3794) -> (0, -165.3794) construction
  line L38 (0, -165.3794) -> (0, -193.8528) construction
  line L39 (0, -193.8528) -> (-108.585, -193.8528) construction
  line L40 (-108.585, -193.8528) -> (-108.585, -121.2342) construction
  line L41 (-108.585, -121.2342) -> (0, -121.2342) construction
  line L42 (0, -121.2342) -> (0, -193.8528) construction
  line L43 (0, -193.8528) -> (-108.585, -193.8528) construction
  line L44 (-108.585, -193.8528) -> (-108.585, -165.3794) construction
  line L45 (-108.585, -165.3794) -> (0, -165.3794) construction
  line L46 (0, -165.3794) -> (0, -193.8528) construction
  circle A24 centre (-108.585, -121.2342) radius 1.5875
  circle A25 centre (-108.585, -165.3794) radius 1.5875
  circle A26 centre (-51.4604, -165.3794) radius 1.5875
  circle A27 centre (-51.4604, -121.2342) radius 1.5875
  circle A28 centre (-177.1396, -107.3658) radius 1.5875
  circle A29 centre (-177.1396, -63.2206) radius 1.5875
  circle A30 centre (-120.015, -63.2206) radius 1.5875
  circle A31 centre (-120.015, -107.3658) radius 1.5875
  point P0 (0, 0)
  dimension "d52" = 51.4604
  dimension "d53" = 72.6186
  dimension "d54" = 28.4734
  dimension "d55" = 108.585
  dimension "d56" = 51.4604
  dimension "d57" = 72.6186
  dimension "d58" = 28.4734
  dimension "d59" = 108.585
  dimension "d60" = 3.175
  dimension "d61" = 3.175
  dimension "d62" = 3.175
  dimension "d63" = 3.175
  dimension "d64" = 3.175
  dimension "d65" = 3.175
  dimension "d66" = 3.175
  dimension "d67" = 3.175
extrude "sabertoothMount" cut sketch "Sketch10" against normal up to surface (9.525 mm away) contours A24 | A25 | A26 | A27 | A28 | A29 | A30 | A31
sketch "Sketch11" plane through (0, 0, 0) normal (0, -1, 0) x (1, 0, 0)
  line L0 (-47.625, -34.7472) -> (-47.625, -193.8528) projected
  circle A0 centre (-120.015, -63.2206) radius 1.5875 projected
  circle A1 centre (-120.015, -107.3658) radius 1.5875 projected
  circle A2 centre (-177.1396, -63.2206) radius 1.5875 projected
  circle A3 centre (-51.4604, -121.2342) radius 1.5875 projected
  circle A4 centre (-108.585, -165.3794) radius 1.5875 projected
  circle A5 centre (-108.585, -121.2342) radius 1.5875 projected
  circle A6 centre (-51.4604, -165.3794) radius 1.5875 projected
  circle A7 centre (-177.1396, -107.3658) radius 1.5875 projected
  circle A8 centre (-90.3986, -204.978) radius 1.5875 projected
  circle A9 centre (-90.3986, -147.066) radius 1.5875 projected
  circle A10 centre (-138.2014, -147.066) radius 1.5875 projected
  circle A11 centre (-138.2014, -204.978) radius 1.5875 projected
  circle A12 centre (-137.5664, -16.002) radius 1.5875 projected
  circle A13 centre (-91.0336, -14.5034) radius 1.5875 projected
  circle A14 centre (-137.5664, -89.9922) radius 1.5875 projected
  circle A15 centre (-91.0336, -96.4946) radius 1.5875 projected
  circle A16 centre (-214.825, -189.0903) radius 1.5875 projected
  circle A17 centre (-185.225, -189.0903) radius 1.5875 projected
  circle A18 centre (-28.575, -189.0903) radius 1.5875 projected
  circle A19 centre (-43.375, -39.5097) radius 1.5875 projected
  circle A20 centre (-13.775, -39.5097) radius 1.5875 projected
  circle A21 centre (-28.575, -39.5097) radius 1.5875 projected
  circle A22 centre (-13.775, -189.0903) radius 1.5875 projected
  circle A23 centre (-43.375, -189.0903) radius 1.5875 projected
  circle A24 centre (-200.025, -189.0903) radius 1.5875 projected
  circle A25 centre (-214.825, -39.5097) radius 1.5875 projected
  circle A26 centre (-185.225, -39.5097) radius 1.5875 projected
  circle A27 centre (-200.025, -39.5097) radius 1.5875 projected
  circle A28 centre (-152.4, -38.1) radius 1.5875 projected
  circle A29 centre (-76.2, -38.1) radius 1.5875 projected
  circle A30 centre (-76.2, -190.5) radius 1.5875 projected
  circle A31 centre (-152.4, -190.5) radius 1.5875 projected
  line L1 (-142.875, 0) -> (-142.875, -34.7472) projected
  line L2 (-142.875, -34.7472) -> (-228.6, -34.7472) projected
  line L3 (-228.6, -193.8528) -> (-228.6, -34.7472) projected
  line L4 (-228.6, -193.8528) -> (-142.875, -193.8528) projected
  line L5 (-142.875, -193.8528) -> (-142.875, -228.6) projected
  line L6 (-85.725, -228.6) -> (-142.875, -228.6) projected
  line L7 (-85.725, -228.6) -> (-85.725, -193.8528) projected
  line L8 (-85.725, -193.8528) -> (0, -193.8528) projected
  line L9 (0, -34.7472) -> (0, -193.8528) projected
  line L10 (0, -34.7472) -> (-85.725, -34.7472) projected
  line L11 (-85.725, -34.7472) -> (-85.725, 0) projected
  line L12 (-142.875, 0) -> (-85.725, 0) projected
  line L13 (-180.975, -193.8528) -> (-180.975, -34.7472) projected
  line L14 (-219.075, -34.7472) -> (-219.075, -193.8528) projected
  line L15 (-9.525, -193.8528) -> (-9.525, -34.7472) projected
  line L16 (0, -34.7472) -> (0, -193.8528) construction
  line L17 (0, -114.3) -> (-228.6, -114.3) construction
  line L18 (-228.6, -193.8528) -> (-228.6, -34.7472) construction
  line L19 (-47.625, -34.7472) -> (-47.625, -193.8528) construction
  line L20 (-47.625, -114.3) -> (-9.525, -114.3) construction
  line L21 (-9.525, -100.0125) -> (-47.625, -100.0125)
  line L22 (-47.625, -100.0125) -> (-47.625, -128.5875)
  line L23 (-47.625, -128.5875) -> (-9.525, -128.5875)
  line L24 (-9.525, -128.5875) -> (-9.525, -100.0125)
  line L25 (-9.525, -100.0125) -> (-47.625, -128.5875) construction
  line L26 (-47.625, -100.0125) -> (-9.525, -128.5875) construction
  line L27 (-180.9463, -100.0125) -> (-219.075, -100.0125)
  line L28 (-219.075, -100.0125) -> (-219.075, -128.5875)
  line L29 (-219.075, -128.5875) -> (-180.9463, -128.5875)
  line L30 (-180.9463, -128.5875) -> (-180.9463, -100.0125)
  line L31 (-180.9463, -100.0125) -> (-219.075, -128.5875) construction
  line L32 (-219.075, -100.0125) -> (-180.9463, -128.5875) construction
  point P0 (0, 0)
  point P1 (-28.575, -114.3)
  point P2 (-200.0106, -114.3)
  dimension "d70" = 28.575
extrude "Extrusion11" cut sketch "Sketch11" against normal up to surface (6.35 mm away) contours L21 L15 L23 L0 | L27 L30 L29 L13 | L13 L29 L14 L27
fillet "Fillet1" radius 3.175 8 edges at (-142.875, 4.7625, 0) (-85.725, 4.7625, 0) (-85.725, 4.7625, -228.6) (0, 4.7625, -34.7472) (0, 4.7625, -193.8528) (-142.875, 4.7625, -228.6) (-228.6, 4.7625, -193.8528) (-228.6, 4.7625, -34.7472)
properties part number "BottomPlateV2" material "Polyethylene, High Density"
